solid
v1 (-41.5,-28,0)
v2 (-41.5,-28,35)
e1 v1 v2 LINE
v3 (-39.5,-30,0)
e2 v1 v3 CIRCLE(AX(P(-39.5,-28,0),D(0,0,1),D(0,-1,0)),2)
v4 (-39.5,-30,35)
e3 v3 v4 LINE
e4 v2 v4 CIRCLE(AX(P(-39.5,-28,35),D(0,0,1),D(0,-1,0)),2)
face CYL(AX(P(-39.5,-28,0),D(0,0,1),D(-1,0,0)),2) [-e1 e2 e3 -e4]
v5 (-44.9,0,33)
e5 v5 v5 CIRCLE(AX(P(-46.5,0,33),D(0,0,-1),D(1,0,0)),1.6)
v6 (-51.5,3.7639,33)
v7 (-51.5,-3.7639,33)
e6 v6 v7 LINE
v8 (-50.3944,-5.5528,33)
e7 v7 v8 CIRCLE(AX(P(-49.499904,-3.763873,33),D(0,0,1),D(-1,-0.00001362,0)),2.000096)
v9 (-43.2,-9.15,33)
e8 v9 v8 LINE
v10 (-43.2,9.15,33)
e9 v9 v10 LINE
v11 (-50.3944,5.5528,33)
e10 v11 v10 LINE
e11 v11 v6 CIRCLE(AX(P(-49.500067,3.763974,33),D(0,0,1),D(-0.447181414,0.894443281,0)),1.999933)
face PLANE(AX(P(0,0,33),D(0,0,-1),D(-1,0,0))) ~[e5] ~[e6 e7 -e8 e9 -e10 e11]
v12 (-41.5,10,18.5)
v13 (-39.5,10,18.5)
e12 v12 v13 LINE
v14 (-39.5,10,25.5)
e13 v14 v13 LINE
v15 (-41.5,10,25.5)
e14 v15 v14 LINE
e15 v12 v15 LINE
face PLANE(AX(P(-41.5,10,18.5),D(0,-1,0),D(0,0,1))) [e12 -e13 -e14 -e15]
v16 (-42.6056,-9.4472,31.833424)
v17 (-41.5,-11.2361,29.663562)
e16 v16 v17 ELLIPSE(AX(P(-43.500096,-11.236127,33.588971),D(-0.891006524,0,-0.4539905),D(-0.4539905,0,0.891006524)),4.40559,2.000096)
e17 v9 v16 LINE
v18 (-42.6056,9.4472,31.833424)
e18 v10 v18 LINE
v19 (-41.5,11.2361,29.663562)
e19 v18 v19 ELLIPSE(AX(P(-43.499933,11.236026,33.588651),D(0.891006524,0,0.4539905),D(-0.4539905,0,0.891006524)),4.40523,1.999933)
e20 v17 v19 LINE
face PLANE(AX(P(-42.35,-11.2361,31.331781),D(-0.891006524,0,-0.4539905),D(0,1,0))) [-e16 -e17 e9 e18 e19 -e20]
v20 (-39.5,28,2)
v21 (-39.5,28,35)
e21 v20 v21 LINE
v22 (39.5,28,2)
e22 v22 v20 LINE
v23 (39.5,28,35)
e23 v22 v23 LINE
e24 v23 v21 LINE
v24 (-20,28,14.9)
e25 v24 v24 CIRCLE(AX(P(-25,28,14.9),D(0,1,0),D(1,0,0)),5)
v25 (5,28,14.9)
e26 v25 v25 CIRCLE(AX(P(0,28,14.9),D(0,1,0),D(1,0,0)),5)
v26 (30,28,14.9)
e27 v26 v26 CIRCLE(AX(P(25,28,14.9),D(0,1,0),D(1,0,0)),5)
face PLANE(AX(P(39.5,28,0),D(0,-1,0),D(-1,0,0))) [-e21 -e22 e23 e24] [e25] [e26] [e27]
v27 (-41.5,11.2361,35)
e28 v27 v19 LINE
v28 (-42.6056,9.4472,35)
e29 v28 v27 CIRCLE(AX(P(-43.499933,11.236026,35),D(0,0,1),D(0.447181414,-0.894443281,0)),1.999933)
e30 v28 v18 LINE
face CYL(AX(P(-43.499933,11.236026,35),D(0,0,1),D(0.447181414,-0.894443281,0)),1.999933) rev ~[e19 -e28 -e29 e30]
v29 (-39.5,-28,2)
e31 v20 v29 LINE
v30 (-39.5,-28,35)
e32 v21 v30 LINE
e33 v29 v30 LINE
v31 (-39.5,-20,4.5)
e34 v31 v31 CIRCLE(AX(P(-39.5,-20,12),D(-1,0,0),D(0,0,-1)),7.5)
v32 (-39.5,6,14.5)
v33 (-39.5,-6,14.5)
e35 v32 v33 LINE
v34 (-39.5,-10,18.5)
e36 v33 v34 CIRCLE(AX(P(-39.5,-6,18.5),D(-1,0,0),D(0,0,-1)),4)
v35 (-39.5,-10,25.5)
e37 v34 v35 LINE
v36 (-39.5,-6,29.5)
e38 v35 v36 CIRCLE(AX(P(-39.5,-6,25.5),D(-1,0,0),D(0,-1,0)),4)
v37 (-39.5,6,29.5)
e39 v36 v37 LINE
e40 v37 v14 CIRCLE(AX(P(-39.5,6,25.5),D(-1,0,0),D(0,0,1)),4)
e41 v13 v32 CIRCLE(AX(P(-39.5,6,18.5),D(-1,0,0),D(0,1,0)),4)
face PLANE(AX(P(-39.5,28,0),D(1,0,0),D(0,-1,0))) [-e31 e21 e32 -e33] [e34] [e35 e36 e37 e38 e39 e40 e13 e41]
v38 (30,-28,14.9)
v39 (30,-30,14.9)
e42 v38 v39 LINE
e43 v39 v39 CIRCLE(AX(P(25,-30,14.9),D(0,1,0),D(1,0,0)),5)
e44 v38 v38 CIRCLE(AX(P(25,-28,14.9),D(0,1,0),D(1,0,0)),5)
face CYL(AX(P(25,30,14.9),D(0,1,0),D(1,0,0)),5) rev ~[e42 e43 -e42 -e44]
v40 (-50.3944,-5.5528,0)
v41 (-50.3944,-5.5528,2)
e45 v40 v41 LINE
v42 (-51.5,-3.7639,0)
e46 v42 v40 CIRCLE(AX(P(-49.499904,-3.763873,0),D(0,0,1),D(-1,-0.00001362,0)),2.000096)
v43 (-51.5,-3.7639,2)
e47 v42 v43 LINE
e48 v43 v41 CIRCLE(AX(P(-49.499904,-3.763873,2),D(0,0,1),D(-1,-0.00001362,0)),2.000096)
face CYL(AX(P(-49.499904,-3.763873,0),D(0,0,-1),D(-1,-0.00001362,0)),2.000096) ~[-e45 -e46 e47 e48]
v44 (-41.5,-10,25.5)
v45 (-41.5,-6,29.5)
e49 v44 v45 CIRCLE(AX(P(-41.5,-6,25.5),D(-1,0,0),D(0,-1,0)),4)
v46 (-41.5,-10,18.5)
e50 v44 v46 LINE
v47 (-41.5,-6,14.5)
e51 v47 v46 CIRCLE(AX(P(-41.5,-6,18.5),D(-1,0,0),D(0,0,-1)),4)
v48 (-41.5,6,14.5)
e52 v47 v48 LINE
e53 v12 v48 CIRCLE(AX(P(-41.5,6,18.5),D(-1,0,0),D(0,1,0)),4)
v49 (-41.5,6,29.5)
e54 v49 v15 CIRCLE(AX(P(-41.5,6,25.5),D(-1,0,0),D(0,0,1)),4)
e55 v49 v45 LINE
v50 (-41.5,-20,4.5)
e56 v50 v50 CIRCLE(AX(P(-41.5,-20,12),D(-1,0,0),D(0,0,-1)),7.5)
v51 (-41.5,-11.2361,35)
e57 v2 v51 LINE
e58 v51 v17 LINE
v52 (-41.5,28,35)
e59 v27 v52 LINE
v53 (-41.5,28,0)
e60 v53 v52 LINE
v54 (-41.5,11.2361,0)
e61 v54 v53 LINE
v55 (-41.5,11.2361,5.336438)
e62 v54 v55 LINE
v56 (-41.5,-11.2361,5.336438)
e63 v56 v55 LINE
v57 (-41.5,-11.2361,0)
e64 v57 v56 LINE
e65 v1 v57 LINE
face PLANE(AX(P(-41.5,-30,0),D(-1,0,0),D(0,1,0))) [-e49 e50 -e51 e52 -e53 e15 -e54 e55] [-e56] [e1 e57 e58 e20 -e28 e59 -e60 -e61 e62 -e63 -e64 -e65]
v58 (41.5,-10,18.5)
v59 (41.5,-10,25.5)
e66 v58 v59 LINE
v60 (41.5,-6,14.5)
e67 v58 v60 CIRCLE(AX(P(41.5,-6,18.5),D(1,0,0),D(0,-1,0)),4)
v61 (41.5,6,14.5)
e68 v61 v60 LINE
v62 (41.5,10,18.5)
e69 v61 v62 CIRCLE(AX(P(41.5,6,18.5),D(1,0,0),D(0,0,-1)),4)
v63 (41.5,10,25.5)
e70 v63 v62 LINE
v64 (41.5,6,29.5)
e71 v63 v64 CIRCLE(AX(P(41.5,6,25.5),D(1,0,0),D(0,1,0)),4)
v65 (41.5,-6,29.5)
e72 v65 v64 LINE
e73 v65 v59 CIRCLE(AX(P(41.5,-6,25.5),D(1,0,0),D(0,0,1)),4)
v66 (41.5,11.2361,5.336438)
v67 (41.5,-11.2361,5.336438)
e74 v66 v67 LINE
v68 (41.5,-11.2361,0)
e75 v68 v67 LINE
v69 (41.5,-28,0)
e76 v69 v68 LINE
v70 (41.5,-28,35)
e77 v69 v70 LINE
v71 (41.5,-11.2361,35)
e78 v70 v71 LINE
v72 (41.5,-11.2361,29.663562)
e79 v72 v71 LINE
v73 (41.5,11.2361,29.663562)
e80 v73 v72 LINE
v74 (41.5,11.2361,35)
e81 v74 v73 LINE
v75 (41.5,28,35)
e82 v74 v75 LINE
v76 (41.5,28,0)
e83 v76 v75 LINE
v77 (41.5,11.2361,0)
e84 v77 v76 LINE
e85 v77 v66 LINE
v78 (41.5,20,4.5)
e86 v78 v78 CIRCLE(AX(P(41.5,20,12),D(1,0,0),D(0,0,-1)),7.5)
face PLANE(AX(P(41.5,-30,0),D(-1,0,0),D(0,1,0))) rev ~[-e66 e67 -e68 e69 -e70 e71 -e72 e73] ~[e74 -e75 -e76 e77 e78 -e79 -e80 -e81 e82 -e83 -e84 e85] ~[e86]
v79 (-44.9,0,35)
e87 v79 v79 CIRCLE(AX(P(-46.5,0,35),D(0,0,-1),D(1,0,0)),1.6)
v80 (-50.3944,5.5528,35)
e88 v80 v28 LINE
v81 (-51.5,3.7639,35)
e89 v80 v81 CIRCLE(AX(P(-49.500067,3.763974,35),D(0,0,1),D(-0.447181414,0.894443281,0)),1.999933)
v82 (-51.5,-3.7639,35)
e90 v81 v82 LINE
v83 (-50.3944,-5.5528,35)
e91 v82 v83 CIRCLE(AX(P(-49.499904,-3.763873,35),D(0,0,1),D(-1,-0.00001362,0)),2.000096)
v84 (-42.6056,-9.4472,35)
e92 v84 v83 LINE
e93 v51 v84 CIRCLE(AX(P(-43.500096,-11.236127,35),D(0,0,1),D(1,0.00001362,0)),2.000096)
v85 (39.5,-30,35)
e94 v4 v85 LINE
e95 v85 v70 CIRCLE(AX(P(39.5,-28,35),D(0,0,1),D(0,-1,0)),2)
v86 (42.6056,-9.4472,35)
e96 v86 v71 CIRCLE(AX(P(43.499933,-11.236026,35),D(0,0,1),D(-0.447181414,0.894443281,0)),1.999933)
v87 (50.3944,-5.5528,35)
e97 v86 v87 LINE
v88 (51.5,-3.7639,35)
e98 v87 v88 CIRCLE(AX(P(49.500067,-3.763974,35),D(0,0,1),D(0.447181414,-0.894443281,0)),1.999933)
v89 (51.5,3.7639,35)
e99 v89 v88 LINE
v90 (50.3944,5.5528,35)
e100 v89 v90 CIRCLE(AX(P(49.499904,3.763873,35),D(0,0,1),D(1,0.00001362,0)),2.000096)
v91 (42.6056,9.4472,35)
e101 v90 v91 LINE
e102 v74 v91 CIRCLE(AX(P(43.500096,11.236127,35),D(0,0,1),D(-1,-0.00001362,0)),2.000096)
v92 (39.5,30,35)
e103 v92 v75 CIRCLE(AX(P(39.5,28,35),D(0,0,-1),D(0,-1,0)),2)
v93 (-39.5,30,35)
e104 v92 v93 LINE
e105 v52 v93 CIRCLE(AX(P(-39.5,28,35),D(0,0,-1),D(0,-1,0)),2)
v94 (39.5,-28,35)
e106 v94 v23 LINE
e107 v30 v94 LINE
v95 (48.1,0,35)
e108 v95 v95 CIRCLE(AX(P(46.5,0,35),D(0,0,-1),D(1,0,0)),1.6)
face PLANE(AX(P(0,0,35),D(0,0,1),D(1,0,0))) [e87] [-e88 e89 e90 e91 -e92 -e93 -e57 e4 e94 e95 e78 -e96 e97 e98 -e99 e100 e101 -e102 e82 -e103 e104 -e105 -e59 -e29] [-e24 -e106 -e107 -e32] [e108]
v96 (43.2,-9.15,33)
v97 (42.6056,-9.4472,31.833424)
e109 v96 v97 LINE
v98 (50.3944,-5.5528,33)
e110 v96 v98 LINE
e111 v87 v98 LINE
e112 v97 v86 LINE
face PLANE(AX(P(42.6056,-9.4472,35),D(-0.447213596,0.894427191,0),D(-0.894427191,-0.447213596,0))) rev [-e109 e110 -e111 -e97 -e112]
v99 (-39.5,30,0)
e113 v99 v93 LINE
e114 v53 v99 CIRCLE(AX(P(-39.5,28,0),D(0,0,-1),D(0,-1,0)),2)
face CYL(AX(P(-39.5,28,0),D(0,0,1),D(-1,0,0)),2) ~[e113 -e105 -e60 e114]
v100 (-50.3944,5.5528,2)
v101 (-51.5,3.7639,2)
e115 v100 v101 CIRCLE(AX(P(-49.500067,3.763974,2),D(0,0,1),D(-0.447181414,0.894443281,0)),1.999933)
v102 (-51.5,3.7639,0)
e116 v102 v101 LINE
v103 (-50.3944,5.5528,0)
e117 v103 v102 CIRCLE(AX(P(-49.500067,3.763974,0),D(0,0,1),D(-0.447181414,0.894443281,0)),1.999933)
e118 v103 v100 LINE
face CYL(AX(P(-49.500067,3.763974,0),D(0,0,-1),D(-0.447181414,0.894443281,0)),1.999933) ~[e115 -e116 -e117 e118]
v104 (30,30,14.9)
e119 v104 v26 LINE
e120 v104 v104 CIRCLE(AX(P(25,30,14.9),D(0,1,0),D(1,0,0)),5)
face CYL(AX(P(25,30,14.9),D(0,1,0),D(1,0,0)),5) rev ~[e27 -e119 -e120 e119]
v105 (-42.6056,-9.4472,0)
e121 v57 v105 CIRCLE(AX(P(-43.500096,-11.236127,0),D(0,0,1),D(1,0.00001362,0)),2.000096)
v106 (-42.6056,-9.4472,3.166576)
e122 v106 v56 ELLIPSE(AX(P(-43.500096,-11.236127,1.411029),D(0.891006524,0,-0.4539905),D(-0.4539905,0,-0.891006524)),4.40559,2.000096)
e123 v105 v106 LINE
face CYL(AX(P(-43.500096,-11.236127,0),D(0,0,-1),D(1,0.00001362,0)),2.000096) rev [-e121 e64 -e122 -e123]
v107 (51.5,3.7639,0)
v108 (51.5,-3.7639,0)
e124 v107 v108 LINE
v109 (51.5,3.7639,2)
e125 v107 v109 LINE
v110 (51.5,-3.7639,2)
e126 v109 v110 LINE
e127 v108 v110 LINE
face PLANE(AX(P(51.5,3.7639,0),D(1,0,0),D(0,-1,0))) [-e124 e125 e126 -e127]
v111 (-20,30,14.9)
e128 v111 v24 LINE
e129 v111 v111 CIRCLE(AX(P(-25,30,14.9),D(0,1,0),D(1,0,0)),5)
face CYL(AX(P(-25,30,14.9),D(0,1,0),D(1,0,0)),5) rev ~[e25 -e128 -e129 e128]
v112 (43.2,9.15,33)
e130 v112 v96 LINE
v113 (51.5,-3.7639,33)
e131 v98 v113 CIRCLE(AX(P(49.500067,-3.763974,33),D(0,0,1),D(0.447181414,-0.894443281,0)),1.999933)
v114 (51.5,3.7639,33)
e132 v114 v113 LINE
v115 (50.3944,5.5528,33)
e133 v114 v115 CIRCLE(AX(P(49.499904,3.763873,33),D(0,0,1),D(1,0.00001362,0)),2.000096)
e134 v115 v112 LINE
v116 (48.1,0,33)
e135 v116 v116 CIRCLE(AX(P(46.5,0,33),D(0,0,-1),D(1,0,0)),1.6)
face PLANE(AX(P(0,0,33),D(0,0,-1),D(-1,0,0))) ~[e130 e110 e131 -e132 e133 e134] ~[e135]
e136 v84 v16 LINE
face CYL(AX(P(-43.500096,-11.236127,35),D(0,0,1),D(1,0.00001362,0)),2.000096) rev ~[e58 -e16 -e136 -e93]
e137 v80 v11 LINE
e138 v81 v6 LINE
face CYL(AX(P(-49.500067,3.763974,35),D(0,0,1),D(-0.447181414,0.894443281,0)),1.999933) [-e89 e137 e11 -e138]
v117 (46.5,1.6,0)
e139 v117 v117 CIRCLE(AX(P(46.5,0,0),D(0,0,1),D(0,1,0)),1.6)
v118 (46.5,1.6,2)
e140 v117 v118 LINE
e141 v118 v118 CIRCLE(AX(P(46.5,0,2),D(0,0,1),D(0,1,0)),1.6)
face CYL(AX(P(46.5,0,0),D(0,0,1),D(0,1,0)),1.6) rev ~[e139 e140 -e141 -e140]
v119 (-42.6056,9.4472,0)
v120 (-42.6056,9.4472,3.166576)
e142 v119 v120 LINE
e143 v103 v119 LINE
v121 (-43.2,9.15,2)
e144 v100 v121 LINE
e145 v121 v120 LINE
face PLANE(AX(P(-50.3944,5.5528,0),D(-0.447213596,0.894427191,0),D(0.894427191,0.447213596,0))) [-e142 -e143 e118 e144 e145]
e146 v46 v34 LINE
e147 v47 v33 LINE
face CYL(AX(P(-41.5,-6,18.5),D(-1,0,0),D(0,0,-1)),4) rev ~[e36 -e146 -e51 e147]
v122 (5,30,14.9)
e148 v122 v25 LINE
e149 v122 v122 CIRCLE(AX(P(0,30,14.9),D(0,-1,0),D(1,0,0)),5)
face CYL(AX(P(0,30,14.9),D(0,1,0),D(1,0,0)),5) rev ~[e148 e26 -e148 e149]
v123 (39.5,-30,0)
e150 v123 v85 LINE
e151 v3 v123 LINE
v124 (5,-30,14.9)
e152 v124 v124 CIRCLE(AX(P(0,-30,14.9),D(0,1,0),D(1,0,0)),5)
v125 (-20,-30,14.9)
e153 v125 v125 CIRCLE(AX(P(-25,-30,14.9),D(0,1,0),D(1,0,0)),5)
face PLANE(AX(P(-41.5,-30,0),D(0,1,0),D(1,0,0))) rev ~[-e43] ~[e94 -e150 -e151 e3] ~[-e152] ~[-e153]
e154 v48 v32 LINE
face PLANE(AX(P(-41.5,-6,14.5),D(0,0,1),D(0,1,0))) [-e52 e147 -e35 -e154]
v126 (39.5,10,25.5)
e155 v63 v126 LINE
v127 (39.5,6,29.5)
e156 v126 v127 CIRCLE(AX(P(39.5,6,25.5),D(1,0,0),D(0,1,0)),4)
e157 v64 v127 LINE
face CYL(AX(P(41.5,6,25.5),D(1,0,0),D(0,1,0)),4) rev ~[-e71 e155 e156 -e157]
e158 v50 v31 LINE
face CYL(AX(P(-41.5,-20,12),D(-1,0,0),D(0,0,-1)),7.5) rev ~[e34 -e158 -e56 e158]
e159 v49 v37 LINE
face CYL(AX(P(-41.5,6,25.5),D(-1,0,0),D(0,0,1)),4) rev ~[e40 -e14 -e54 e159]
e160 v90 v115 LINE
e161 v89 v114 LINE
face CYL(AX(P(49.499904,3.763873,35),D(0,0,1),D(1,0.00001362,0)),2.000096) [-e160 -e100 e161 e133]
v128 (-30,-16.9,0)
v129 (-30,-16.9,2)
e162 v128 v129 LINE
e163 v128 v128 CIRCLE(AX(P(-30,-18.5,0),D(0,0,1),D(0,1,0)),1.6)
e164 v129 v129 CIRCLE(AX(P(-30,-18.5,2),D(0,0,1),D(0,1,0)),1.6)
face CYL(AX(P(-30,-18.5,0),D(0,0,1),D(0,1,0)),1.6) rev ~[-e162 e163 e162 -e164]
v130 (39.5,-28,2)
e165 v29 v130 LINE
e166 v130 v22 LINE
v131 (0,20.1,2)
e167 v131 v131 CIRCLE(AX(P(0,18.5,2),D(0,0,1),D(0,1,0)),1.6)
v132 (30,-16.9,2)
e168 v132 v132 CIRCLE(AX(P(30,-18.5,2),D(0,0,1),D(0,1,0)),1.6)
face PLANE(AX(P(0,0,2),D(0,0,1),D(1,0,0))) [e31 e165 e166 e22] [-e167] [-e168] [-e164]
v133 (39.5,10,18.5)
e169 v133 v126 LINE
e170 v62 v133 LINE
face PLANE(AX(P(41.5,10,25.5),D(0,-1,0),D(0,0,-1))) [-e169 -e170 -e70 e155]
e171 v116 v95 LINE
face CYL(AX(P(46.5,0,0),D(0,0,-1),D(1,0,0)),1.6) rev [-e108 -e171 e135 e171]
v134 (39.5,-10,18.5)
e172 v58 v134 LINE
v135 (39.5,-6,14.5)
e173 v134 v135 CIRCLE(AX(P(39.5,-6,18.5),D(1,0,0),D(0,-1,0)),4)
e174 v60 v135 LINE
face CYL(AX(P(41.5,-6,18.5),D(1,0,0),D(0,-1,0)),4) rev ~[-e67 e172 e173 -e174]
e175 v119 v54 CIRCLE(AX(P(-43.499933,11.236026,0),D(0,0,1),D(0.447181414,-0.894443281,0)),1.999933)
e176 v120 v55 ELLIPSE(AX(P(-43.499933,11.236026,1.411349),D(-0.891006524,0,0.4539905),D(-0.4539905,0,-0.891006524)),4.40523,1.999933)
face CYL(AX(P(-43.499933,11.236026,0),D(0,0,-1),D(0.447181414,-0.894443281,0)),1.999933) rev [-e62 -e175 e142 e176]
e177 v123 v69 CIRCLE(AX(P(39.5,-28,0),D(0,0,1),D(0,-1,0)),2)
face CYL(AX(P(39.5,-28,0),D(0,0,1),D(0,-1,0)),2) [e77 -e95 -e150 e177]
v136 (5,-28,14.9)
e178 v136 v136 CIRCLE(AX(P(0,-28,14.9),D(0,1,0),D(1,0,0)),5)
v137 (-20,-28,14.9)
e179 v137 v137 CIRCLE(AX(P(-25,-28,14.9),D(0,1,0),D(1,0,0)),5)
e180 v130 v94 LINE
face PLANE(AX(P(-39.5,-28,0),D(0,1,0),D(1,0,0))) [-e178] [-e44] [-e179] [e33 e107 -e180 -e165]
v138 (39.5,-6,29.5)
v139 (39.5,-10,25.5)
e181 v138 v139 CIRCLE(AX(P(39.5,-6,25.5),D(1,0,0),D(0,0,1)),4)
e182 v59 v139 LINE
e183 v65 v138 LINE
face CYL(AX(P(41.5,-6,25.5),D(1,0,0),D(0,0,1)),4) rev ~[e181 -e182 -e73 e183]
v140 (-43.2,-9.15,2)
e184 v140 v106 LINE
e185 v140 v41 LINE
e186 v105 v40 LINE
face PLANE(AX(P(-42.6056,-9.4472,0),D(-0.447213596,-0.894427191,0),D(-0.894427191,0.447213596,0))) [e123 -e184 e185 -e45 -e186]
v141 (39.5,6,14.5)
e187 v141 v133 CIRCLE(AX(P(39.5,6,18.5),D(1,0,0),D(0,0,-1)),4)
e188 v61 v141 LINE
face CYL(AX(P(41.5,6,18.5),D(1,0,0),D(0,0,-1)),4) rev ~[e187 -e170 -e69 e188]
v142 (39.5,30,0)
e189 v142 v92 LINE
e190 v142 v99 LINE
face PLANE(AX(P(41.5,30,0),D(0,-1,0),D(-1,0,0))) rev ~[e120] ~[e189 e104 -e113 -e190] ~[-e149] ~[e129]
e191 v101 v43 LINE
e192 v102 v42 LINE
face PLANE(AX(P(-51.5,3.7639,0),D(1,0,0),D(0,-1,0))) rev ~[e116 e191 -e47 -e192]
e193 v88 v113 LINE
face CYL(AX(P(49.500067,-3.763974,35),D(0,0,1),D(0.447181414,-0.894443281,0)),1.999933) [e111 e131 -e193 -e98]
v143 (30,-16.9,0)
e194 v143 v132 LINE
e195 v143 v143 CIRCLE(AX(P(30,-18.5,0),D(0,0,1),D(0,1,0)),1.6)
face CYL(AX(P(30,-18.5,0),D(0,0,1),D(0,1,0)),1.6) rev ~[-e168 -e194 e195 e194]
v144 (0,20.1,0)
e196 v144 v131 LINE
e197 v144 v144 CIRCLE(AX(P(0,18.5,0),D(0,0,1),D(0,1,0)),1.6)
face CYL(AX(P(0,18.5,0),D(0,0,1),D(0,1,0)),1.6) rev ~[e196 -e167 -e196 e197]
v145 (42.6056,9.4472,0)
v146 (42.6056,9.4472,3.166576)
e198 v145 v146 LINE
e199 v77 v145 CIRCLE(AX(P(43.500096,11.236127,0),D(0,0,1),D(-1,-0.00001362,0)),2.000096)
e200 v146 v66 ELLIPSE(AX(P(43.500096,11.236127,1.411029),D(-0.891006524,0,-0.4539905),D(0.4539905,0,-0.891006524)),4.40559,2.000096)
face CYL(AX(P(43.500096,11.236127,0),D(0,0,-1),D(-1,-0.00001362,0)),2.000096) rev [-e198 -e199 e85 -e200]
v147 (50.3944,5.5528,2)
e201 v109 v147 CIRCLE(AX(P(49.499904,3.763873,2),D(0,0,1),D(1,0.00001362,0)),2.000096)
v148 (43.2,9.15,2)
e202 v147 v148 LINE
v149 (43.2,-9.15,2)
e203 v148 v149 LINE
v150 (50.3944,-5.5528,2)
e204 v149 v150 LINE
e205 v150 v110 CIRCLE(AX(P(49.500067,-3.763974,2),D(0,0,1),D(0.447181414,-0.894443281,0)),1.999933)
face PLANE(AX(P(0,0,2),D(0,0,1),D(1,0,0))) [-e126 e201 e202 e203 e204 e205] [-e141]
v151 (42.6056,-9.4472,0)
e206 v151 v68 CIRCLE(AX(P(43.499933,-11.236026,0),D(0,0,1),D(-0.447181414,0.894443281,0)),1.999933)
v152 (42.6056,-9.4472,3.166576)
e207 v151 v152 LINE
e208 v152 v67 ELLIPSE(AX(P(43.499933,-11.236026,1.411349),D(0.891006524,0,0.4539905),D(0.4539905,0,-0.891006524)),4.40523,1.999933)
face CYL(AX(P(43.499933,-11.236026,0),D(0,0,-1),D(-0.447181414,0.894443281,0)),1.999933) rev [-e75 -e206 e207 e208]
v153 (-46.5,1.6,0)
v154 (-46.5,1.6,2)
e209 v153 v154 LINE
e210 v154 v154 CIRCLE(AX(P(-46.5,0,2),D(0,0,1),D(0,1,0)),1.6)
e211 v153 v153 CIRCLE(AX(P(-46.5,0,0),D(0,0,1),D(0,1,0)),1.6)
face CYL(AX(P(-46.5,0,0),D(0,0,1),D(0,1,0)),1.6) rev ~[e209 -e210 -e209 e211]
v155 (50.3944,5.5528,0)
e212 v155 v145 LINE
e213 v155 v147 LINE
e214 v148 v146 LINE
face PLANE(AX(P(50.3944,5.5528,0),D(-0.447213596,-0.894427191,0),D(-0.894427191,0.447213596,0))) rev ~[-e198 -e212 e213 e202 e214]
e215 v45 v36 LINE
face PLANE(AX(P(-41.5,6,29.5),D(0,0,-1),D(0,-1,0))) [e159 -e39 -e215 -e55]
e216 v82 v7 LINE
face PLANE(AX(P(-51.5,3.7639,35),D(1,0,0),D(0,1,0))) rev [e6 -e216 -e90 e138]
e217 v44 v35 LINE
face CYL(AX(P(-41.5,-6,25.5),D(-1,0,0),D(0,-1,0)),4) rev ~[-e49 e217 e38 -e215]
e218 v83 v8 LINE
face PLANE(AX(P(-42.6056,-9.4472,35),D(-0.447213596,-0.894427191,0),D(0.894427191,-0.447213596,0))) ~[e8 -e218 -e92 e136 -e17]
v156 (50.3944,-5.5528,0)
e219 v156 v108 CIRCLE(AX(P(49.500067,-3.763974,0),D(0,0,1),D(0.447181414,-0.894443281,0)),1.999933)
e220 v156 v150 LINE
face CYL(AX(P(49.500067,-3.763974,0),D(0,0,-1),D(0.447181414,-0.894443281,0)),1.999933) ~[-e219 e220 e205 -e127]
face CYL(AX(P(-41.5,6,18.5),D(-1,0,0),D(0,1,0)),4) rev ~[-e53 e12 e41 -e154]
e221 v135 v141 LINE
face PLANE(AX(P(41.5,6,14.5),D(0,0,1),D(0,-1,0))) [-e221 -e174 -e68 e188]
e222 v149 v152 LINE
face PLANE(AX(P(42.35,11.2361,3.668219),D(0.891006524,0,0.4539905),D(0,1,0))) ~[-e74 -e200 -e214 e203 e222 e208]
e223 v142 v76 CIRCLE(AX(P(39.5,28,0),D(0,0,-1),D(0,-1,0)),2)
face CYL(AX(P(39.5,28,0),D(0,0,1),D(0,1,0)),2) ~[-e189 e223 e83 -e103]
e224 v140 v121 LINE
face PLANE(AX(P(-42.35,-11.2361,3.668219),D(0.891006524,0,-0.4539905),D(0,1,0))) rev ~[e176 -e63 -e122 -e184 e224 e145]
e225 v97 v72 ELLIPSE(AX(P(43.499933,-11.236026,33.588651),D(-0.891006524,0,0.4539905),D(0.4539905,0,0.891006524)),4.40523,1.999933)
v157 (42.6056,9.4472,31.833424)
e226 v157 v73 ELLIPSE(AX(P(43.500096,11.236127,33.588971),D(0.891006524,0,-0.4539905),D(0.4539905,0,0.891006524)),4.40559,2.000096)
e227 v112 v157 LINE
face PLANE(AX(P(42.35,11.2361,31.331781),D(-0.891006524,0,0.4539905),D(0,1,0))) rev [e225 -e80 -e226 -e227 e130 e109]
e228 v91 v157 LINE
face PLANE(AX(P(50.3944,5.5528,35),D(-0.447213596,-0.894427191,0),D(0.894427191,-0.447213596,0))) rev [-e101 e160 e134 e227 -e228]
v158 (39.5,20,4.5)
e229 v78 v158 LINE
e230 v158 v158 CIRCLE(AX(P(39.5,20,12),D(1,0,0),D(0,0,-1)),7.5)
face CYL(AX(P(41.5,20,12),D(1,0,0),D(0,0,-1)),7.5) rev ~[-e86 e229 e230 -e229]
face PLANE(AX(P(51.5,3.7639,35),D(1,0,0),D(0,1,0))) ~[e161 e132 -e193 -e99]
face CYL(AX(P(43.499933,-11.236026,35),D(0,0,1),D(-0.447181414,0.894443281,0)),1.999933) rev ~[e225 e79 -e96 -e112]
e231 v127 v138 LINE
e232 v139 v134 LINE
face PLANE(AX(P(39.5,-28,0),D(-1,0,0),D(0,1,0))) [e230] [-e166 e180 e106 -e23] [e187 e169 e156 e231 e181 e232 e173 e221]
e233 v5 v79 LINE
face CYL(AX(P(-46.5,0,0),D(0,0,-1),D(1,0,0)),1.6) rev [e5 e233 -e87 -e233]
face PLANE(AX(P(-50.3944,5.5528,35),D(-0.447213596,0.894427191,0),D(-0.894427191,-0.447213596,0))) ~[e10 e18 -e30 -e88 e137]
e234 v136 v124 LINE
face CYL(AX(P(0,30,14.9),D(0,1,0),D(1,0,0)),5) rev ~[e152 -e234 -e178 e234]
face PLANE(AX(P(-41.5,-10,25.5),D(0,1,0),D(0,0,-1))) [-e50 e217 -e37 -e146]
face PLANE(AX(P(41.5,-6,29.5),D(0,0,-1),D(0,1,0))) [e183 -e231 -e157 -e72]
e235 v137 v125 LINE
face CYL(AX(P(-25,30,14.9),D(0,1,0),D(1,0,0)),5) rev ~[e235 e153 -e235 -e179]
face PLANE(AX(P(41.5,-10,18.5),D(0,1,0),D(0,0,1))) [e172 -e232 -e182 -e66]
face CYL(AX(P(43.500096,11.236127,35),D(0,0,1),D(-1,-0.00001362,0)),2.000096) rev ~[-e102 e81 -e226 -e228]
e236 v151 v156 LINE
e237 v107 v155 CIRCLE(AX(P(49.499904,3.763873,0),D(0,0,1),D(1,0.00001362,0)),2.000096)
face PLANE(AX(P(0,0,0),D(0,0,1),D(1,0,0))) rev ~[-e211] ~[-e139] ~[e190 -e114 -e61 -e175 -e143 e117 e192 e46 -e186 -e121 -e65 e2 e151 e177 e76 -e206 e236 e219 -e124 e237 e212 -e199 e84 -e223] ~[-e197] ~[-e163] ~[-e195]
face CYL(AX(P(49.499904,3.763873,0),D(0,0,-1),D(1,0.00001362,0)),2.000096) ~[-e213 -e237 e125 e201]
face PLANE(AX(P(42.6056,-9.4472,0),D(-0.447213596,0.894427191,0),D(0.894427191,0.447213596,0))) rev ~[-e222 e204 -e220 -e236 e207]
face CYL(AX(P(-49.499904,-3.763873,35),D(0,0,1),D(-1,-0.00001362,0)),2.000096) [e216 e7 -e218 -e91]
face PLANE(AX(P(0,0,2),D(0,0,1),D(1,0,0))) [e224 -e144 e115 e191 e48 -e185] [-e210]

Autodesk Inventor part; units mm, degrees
ref_plane "YZ Plane" through (0, 0, 0) normal (1, 0, 0) x (0, 1, 0)
ref_plane "XZ Plane" through (0, 0, 0) normal (0, 1, 0) x (-1, 0, 0)
sketch "Base" plane through (0, 0, 0) normal (0, 0, 1) x (1, 0, 0)
  line L0 (-41.5, -30) -> (41.5, -30)
  line L1 (41.5, -30) -> (41.5, -11.2361)
  line L2 (41.5, 30) -> (-41.5, 30)
  line L3 (-41.5, -30) -> (41.5, 30) construction
  line L4 (41.5, -30) -> (-41.5, 30) construction
  line L5 (-39.5, -28) -> (39.5, -28)
  line L6 (39.5, -28) -> (39.5, 28)
  line L7 (39.5, 28) -> (-39.5, 28)
  line L8 (-39.5, 28) -> (-39.5, -28)
  circle A0 centre (-30, -18.5) radius 1.35
  circle A1 centre (30, -18.5) radius 1.35
  circle A2 centre (0, 18.5) radius 1.35
  line L9 (51.5, 3.7639) -> (51.5, -3.7639)
  line L10 (41.5, 5) -> (51.5, -5) construction
  line L11 (51.5, 5) -> (41.5, -5) construction
  line L12 (42.6056, -9.4472) -> (50.3944, -5.5528)
  line L13 (50.3944, 5.5528) -> (42.6056, 9.4472)
  arc A3 (51.5, 3.7639) -> (50.3944, 5.5528) centre (49.5, 3.7639) ccw
  arc A4 (50.3944, -5.5528) -> (51.5, -3.7639) centre (49.5, -3.7639) ccw
  arc A5 (42.6056, -9.4472) -> (41.5, -11.2361) centre (43.5, -11.2361) ccw
  line L14 (41.5, 11.2361) -> (41.5, 30)
  arc A6 (41.5, 11.2361) -> (42.6056, 9.4472) centre (43.5, 11.2361) ccw
  line L15 (-41.5, -30) -> (-41.5, -11.2361)
  line L16 (-39.5, -28) -> (-39.5, 28)
  line L17 (-51.5, 3.7639) -> (-51.5, -3.7639)
  line L18 (-41.5, 5) -> (-51.5, -5) construction
  line L19 (-51.5, 5) -> (-41.5, -5) construction
  line L20 (-42.6056, -9.4472) -> (-50.3944, -5.5528)
  line L21 (-50.3944, 5.5528) -> (-42.6056, 9.4472)
  arc A7 (-50.3944, 5.5528) -> (-51.5, 3.7639) centre (-49.5, 3.7639) ccw
  arc A8 (-51.5, -3.7639) -> (-50.3944, -5.5528) centre (-49.5, -3.7639) ccw
  arc A9 (-41.5, -11.2361) -> (-42.6056, -9.4472) centre (-43.5, -11.2361) ccw
  line L22 (-41.5, 11.2361) -> (-41.5, 30)
  arc A10 (-42.6056, 9.4472) -> (-41.5, 11.2361) centre (-43.5, 11.2361) ccw
  line L23 (41.5, 11.2361) -> (41.5, -11.2361)
  line L24 (-41.5, -11.2361) -> (-41.5, 11.2361)
  circle A11 centre (-46.5, 0) radius 1.35
  circle A12 centre (46.5, 0) radius 1.35
  circle A13 centre (0, 18.5) radius 1.6
  circle A14 centre (30, -18.5) radius 1.6
  circle A15 centre (-30, -18.5) radius 1.6
  circle A16 centre (-46.5, 0) radius 1.6
  circle A17 centre (46.5, 0) radius 1.6
  point P0 (0, 0)
  point P1 (41.5, 10)
  point P2 (-41.5, 10)
  point P3 (-41.5, -10)
  point P4 (-41.5, 10)
  dimension "d0" = 83
  dimension "d1" = 60
  dimension "d5" = 2.7
  dimension "d6" = 9.5
  dimension "d8" = 2.7
  dimension "d9" = 5
  dimension "d10" = 10
  dimension "d11" = 10
  dimension "d14" = 2
  dimension "d15" = 2
  dimension "d16" = 2.7
  dimension "d17" = 2.7
  dimension "d63" = 3.2
  dimension "d64" = 3.2
  dimension "d65" = 3.2
  dimension "d66" = 3.2
  dimension "d67" = 3.2
extrude "Extrusión1" add sketch "Base" along normal blind 2 contours L8 L7 L6 L5 | A13 | A14 | A15
extrude "Extrusión2" add sketch "Base" along normal blind 2 contours A9 L20 A8 L17 A7 L21 A10 L24 | L23 A6 L13 A3 L9 A4 L12 A5 | A16 | A17
extrude "Extrusión3" cut sketch "Base" along normal blind 35 contours L15 L24 L22 L2 L14 L23 L1 L0
extrude "Extrusión4" add sketch "Base" along normal blind 35 contours L15 L24 L22 L2 L14 L23 L1 L0
sketch "Boceto2" plane through (-41.5, 30, 0) normal (0, 1, 0) x (1, 0, 0)
  line L0 (41.5, 0) -> (41.5, -35)
  line L1 (2, -35) -> (81, -35) projected
  line L2 (83, 0) -> (0, 0) projected
  circle A0 centre (16.5, -14.9) radius 5
  circle A1 centre (66.5, -14.9) radius 5
  circle A2 centre (41.5, -14.9) radius 5
  dimension "d26" = 14.9
  dimension "d27" = 25
  dimension "d28" = 10
  dimension "d29" = 10
extrude "Extrusión5" cut sketch "Boceto2" against normal blind 70
sketch "Boceto3" plane through (41.5, 11.2361, 0) normal (1, 0, 0) x (0, 0, -1)
  line L0 (-2, -39.2361) -> (-35, -39.2361) projected
  line L1 (-2, -15) -> (-2, -7.4721) projected
  line L2 (0, 0) -> (0, 18.7639) projected
  line L3 (-18.5, -21.2361) -> (-25.5, -21.2361)
  line L4 (-29.5, -17.2361) -> (-29.5, -5.2361)
  line L5 (-25.5, -1.2361) -> (-18.5, -1.2361)
  line L6 (-14.5, -5.2361) -> (-14.5, -17.2361)
  line L7 (-14.5, -21.2361) -> (-29.5, -1.2361) construction
  line L8 (-29.5, -21.2361) -> (-14.5, -1.2361) construction
  arc A0 (-29.5, -17.2361) -> (-25.5, -21.2361) centre (-25.5, -17.2361) ccw
  arc A1 (-18.5, -21.2361) -> (-14.5, -17.2361) centre (-18.5, -17.2361) ccw
  arc A2 (-14.5, -5.2361) -> (-18.5, -1.2361) centre (-18.5, -5.2361) ccw
  arc A3 (-25.5, -1.2361) -> (-29.5, -5.2361) centre (-25.5, -5.2361) ccw
  circle A4 centre (-12, 8.7639) radius 7.5
  point P0 (0, -11.2361)
  point P1 (-22, -11.2361)
  dimension "d32" = 28
  dimension "d33" = 48
  dimension "d34" = 20
  dimension "d35" = 12
  dimension "d36" = 15
  dimension "d37" = 20
  dimension "d38" = 4
  dimension "d39" = 15
extrude "Extrusión6" cut sketch "Boceto3" against normal blind 10
sketch3d "Boceto 3D1"
pattern_circular "Patrón circular1" count 2 over 360 about axis through (0, 0, 99.8627) along (0, 0, -1) of "Extrusión6"
sketch "Boceto4" plane through (41.5, 11.2361, 0) normal (1, 0, 0) x (0, 0, -1)
  line L0 (-35, -41.2361) -> (-35, 18.7639) projected
  point P0 (0, -11.2361)
  point P1 (-17.5, -25.9654)
  dimension "d45" = 17.5
ref_plane "Plano de trabajo1" through (41.5, -14.7294, 17.5) normal (0, 0, 1) x (1, 0, 0)
mirror "Simetría1" about plane through (41.5, -14.7294, 17.5) normal (0, 0, 1) of "Extrusión2"
chamfer "Chaflán1" distance 1.7 angle 63 1 edges at (41.5, 0, 33) measured on face at (43.0002, 0, 33)
mirror "Simetría2" about plane through (41.5, -14.7294, 17.5) normal (0, 0, 1) of "Extrusión2", "Simetría1", "Chaflán1"
chamfer "Chaflán2" distance 1.7 angle 63 1 edges at (-41.5, 0, 33) measured on face at (-43.0002, 0, 33)
chamfer "Chaflán3" distance 1.7 angle 63 1 edges at (-41.5, 0, 2) measured on face at (-43.0002, 0, 2)
fillet "Empalme1" radius 2 4 edges at (-41.5, 30, 17.5) (41.5, 30, 17.5) (41.5, -30, 17.5) (-41.5, -30, 17.5)
hole "Agujero2" at (0, 18.5, 0) at (-30, -18.5, 0) at (-46.5, 0, 0) at (30, -18.5, 0) at (46.5, 0, 0) direction (0, 0, 1) diameter 3.2 depth 23.25 tip angle 118
extrude "Extrusión8" cut sketch "Base" along normal blind 94.8 contours A16 | A17
properties part number "Contenedor del Arduino v1.1"
